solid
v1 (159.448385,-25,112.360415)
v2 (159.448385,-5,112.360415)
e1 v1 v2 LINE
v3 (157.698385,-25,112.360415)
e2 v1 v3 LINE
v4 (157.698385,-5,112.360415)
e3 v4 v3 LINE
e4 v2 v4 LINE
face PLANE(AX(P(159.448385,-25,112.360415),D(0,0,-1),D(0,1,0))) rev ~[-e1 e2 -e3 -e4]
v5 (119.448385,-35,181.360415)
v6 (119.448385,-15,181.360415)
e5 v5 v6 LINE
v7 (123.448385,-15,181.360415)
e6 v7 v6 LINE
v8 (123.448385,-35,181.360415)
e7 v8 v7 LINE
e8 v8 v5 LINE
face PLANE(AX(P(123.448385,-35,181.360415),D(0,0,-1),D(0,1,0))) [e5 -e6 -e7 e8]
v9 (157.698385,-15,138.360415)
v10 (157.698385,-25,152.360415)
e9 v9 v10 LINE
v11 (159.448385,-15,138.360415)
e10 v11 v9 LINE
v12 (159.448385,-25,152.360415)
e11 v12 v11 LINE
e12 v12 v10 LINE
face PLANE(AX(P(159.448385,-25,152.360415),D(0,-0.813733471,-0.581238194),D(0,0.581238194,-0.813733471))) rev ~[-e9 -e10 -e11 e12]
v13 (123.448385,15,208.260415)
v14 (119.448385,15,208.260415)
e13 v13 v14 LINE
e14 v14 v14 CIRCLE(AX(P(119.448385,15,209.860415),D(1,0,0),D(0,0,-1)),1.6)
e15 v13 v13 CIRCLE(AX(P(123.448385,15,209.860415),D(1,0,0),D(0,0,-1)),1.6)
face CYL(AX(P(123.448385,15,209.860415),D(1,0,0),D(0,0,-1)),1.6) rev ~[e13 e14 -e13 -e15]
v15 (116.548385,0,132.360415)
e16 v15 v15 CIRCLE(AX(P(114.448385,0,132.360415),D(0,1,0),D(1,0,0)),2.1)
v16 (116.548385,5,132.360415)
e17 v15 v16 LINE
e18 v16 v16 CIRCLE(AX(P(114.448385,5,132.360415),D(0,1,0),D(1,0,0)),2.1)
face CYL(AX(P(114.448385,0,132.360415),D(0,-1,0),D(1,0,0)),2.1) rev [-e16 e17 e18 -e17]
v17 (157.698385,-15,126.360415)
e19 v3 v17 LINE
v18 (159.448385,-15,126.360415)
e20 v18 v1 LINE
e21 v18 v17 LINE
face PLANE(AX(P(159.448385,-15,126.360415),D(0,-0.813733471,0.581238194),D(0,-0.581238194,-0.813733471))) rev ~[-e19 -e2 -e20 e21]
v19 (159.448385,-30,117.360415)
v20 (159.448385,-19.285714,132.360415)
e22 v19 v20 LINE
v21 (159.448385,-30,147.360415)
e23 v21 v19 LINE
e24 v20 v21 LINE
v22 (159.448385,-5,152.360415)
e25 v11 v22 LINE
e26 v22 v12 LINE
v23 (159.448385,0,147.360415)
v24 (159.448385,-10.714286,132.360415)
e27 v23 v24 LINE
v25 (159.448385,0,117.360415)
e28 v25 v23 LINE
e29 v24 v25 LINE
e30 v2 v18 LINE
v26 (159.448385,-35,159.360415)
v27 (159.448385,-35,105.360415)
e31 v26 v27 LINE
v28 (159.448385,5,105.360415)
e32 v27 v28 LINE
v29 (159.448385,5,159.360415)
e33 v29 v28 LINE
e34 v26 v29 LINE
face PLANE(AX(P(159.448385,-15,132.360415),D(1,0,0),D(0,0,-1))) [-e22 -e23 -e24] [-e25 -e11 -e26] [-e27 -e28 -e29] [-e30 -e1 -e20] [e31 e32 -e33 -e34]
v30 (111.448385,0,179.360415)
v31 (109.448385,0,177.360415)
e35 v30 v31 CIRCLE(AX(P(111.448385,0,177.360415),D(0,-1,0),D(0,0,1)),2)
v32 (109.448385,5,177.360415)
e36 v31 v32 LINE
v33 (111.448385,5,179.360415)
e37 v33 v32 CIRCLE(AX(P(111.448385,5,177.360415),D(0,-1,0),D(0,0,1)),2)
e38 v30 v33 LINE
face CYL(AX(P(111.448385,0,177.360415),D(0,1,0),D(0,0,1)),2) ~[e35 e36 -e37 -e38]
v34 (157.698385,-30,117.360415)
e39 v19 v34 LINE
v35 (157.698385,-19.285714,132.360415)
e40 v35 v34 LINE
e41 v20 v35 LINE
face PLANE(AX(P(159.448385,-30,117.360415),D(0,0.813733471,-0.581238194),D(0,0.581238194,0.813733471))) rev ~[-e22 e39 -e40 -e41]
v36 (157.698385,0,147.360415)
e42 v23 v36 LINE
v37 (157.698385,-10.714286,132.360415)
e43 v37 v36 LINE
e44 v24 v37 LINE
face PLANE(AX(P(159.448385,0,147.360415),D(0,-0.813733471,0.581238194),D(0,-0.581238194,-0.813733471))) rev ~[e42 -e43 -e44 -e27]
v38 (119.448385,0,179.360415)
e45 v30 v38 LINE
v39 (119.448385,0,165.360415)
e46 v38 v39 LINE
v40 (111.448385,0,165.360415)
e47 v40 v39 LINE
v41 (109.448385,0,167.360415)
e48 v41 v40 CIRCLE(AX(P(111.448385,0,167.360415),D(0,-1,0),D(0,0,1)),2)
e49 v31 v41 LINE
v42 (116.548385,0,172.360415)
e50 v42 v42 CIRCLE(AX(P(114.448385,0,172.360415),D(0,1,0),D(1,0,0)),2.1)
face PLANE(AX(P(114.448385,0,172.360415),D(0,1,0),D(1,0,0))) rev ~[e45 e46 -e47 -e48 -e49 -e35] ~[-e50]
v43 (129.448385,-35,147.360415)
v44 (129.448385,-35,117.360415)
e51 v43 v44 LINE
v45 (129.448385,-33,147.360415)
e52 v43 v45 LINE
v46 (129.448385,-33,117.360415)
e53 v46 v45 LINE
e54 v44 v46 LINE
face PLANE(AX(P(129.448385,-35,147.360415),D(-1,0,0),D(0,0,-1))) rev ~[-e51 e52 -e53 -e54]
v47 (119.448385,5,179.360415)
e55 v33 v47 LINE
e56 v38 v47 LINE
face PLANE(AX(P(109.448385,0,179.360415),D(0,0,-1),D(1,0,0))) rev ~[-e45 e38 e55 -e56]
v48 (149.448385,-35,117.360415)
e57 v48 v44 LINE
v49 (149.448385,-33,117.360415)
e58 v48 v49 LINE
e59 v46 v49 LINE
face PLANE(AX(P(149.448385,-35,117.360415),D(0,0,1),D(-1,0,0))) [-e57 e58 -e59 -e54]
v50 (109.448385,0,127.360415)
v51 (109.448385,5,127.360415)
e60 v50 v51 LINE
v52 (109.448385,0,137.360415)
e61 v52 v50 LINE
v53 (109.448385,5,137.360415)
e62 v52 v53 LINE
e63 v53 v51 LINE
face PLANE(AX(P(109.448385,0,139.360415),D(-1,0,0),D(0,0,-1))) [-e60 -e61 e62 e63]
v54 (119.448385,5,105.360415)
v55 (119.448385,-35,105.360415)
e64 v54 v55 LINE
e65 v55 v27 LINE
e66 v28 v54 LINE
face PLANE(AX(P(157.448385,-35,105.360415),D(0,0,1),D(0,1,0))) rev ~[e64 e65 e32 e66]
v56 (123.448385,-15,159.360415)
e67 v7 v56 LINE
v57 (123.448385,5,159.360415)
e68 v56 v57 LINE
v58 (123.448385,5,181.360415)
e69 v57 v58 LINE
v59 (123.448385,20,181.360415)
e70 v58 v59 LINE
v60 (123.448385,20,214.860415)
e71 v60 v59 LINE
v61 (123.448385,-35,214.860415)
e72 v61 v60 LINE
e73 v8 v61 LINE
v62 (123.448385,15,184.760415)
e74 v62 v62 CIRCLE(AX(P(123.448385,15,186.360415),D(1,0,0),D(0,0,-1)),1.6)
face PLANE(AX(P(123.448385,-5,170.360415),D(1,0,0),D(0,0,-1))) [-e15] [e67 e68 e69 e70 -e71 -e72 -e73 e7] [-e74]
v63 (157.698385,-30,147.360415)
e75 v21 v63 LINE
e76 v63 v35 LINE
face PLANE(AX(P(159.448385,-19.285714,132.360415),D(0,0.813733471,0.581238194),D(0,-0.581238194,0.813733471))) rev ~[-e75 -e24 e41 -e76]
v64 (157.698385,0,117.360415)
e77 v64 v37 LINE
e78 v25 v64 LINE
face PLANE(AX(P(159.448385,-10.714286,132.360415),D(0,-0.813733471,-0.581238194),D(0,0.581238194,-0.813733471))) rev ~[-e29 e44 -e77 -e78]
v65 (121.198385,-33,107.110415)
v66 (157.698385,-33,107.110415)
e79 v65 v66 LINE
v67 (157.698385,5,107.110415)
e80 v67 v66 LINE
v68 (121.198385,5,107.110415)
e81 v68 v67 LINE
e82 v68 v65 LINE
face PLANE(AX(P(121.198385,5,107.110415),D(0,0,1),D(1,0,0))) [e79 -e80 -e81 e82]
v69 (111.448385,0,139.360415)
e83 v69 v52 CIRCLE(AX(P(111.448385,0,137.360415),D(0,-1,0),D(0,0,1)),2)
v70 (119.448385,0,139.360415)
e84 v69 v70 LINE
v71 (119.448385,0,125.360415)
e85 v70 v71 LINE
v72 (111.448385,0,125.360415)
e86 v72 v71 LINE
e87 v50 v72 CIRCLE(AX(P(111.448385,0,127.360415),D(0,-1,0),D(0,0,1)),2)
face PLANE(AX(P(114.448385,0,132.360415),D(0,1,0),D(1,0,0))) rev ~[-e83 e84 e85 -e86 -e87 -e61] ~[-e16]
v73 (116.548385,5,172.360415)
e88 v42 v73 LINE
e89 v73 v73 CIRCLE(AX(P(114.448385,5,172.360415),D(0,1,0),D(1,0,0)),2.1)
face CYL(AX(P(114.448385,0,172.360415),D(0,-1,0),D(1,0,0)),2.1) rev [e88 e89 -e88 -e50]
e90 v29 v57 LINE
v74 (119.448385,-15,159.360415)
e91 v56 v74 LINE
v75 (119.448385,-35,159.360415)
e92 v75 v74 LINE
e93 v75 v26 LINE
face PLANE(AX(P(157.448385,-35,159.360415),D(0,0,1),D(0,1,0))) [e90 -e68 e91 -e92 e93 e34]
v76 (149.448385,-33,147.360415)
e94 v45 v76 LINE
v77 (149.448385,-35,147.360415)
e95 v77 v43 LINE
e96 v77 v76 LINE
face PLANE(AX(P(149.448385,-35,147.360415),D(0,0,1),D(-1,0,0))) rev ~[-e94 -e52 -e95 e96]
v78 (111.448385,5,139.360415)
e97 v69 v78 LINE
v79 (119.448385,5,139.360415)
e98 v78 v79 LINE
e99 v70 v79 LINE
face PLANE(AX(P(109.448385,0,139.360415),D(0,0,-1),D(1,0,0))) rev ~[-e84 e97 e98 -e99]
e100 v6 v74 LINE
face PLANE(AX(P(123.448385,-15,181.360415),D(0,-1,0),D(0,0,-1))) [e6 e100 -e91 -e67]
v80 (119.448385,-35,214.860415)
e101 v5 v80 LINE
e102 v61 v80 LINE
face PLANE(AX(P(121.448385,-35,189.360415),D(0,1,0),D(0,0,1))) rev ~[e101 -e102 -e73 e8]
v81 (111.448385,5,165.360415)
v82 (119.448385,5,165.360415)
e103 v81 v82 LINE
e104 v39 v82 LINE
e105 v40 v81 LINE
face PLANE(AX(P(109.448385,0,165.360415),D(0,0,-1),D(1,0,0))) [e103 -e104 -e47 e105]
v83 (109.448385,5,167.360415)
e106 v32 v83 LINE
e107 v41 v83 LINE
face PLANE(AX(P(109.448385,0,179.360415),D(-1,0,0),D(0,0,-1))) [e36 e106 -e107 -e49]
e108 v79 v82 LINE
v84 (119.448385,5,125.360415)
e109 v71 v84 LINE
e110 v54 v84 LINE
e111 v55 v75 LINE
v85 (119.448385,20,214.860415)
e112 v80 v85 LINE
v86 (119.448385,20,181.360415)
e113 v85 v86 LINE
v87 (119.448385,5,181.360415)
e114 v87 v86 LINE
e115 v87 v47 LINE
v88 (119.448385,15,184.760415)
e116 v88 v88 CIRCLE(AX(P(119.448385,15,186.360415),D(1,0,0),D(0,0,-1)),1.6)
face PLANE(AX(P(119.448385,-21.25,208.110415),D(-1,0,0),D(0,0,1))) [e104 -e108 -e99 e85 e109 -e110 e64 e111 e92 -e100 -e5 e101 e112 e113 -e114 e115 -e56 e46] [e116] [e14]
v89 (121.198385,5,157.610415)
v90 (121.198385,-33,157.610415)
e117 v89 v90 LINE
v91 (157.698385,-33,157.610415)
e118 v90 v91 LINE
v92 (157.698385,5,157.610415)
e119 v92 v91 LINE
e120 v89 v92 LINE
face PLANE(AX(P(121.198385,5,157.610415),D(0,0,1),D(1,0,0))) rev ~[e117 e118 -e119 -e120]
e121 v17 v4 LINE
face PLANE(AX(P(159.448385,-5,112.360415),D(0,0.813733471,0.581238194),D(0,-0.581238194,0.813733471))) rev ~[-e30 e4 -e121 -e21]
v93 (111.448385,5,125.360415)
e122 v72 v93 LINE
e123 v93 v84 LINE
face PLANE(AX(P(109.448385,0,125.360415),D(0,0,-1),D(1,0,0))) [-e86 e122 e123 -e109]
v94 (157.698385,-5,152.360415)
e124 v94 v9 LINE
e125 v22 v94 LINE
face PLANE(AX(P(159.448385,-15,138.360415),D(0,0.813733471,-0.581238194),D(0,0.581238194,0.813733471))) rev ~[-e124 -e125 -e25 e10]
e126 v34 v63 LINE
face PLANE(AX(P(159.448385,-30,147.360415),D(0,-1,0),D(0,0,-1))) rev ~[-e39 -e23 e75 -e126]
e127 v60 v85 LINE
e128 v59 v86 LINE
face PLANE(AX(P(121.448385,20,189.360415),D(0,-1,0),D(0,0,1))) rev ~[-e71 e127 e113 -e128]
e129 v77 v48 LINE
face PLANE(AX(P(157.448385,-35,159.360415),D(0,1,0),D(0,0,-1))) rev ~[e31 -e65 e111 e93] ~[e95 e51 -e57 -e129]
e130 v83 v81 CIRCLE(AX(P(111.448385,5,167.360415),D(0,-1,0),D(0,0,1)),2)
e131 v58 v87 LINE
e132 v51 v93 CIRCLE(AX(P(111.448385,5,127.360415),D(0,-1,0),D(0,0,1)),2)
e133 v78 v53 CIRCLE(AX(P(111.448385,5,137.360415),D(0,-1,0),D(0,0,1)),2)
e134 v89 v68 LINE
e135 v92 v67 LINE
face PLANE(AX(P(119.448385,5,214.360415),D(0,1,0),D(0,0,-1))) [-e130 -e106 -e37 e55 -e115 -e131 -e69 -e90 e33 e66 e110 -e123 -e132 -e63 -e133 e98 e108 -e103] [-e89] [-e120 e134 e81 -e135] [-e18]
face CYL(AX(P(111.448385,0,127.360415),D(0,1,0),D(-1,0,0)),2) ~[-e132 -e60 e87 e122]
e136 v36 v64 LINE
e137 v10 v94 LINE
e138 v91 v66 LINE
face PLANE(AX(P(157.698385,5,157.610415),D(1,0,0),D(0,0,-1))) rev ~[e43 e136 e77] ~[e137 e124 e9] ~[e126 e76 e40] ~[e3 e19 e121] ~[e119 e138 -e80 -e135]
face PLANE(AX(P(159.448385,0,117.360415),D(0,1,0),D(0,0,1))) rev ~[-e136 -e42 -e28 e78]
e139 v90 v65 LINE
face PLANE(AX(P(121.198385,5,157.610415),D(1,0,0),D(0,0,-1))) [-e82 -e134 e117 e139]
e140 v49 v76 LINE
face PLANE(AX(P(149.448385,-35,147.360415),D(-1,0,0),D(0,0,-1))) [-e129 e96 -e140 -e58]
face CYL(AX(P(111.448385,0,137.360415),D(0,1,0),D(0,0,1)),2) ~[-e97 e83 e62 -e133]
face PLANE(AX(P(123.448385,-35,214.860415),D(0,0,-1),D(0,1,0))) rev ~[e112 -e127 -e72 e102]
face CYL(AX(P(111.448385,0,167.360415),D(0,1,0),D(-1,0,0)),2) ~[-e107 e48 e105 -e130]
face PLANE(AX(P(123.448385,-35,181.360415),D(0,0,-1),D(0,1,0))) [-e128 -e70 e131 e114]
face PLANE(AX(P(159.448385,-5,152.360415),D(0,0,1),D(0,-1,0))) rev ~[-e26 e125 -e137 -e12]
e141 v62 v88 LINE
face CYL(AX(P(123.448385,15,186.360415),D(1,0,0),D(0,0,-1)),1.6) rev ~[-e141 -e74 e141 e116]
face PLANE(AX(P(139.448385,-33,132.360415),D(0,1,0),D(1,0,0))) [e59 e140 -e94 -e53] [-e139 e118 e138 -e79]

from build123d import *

# Parameters (mm, degrees)
SKETCH2_W             = 10
SKETCH2_H             = 14
SKETCH2_R             = 2.1
BOSS_EXTRUDE1_DEPTH   = 5
BOSS_EXTRUDE1_2_DEPTH = 5
SKETCH3_W             = 44.5
SKETCH3_H             = 39
SKETCH3_W_2           = 14
SKETCH3_H_2           = 5
BOSS_EXTRUDE2_DEPTH   = 2
BOSS_EXTRUDE4_DEPTH   = 32
SKETCH5_W             = 2
SKETCH5_H             = 85
BOSS_EXTRUDE5_DEPTH   = 37
SKETCH6_W             = 14
SKETCH6_H             = 30
CUT_EXTRUDE1_DEPTH    = 200
SKETCH7_W             = 20
SKETCH7_H             = 20
CUT_EXTRUDE2_DEPTH    = 16
FILLET1_R             = 2
SKETCH8_W             = 95.919235743
SKETCH8_H             = 46.663411984
CUT_EXTRUDE4_DEPTH    = 34
SKETCH9_W             = 7
SKETCH9_H             = 5
BOSS_EXTRUDE6_DEPTH   = 2
BOSS_EXTRUDE9_DEPTH   = 36
BOSS_EXTRUDE9_2_DEPTH = 36
SKETCH12_W            = 50
SKETCH12_H            = 2
CUT_EXTRUDE5_DEPTH    = 36
SKETCH13_W            = 50
SKETCH13_H            = 2
BOSS_EXTRUDE11_DEPTH  = 36
BOSS_EXTRUDE12_DEPTH  = 2
SKETCH15_W            = 54
SKETCH15_H            = 40
BOSS_EXTRUDE13_DEPTH  = 2
CUT_EXTRUDE6_DEPTH    = 2
SKETCH17_W            = 55
SKETCH17_H            = 37
BOSS_EXTRUDE14_DEPTH  = 4
SKETCH18_R            = 1.6
CUT_EXTRUDE7_DEPTH    = 11
SKETCH19_R            = 1.6
BOSS_EXTRUDE15_DEPTH  = 4
SKETCH20_R            = 3.6
CUT_EXTRUDE8_DEPTH    = 2.2
SKETCH21_W            = 56.91688516
SKETCH21_H            = 39.408005253
CUT_EXTRUDE9_DEPTH    = 4
SKETCH22_W            = 37.5
SKETCH22_H            = 27.5
SKETCH22_R            = 1.6
BOSS_EXTRUDE16_DEPTH  = 2
SKETCH23_W            = 30
SKETCH23_H            = 12.5
BOSS_EXTRUDE17_DEPTH  = 2
SKETCH25_W            = 20
SKETCH25_H            = 30
CUT_EXTRUDE10_DEPTH   = 15
SKETCH26_R            = 1.6
SKETCH26_W            = 37.5
SKETCH26_H            = 27.5
BOSS_EXTRUDE18_DEPTH  = 2
SKETCH27_W            = 37.5
SKETCH27_H            = 27.5
BOSS_EXTRUDE19_DEPTH  = 2
SKETCH28_W            = 36.5
SKETCH28_H            = 50.5
CUT_EXTRUDE11_DEPTH   = 38
SKETCH29_W            = 33.5
SKETCH29_H            = 55
SKETCH29_R            = 1.6
BOSS_EXTRUDE20_DEPTH  = 4
SKETCH30_W            = 12
SKETCH30_H            = 55
CUT_EXTRUDE12_DEPTH   = 4
SKETCH31_R            = 1.6
CUT_EXTRUDE13_DEPTH   = 4
SKETCH32_W            = 22
SKETCH32_H            = 20
BOSS_EXTRUDE21_DEPTH  = 4


with BuildPart() as part:
    # Sketch2 → Boss-Extrude1 (new body)
    with BuildSketch(Plane(origin=(0, 0, 0), x_dir=(1, 0, 0), z_dir=(0, 1, 0))):
        with Locations((114.448385229, -132.360414745)):
            Rectangle(SKETCH2_W, SKETCH2_H)
        with Locations((114.448385229, -132.360414745)):
            Circle(SKETCH2_R, mode=Mode.SUBTRACT)
    extrude(amount=BOSS_EXTRUDE1_DEPTH)



with BuildPart() as body_2:
    # Sketch2 → Boss-Extrude1 2 (new body)
    with BuildSketch(Plane(origin=(0, 0, 0), x_dir=(1, 0, 0), z_dir=(0, 1, 0))):
        with Locations((114.448385229, -172.360414745)):
            Rectangle(SKETCH2_W, SKETCH2_H)
        with Locations((114.448385229, -172.360414745)):
            Circle(SKETCH2_R, mode=Mode.SUBTRACT)
    extrude(amount=BOSS_EXTRUDE1_2_DEPTH)


with BuildPart() as part_1:
    add(part.part)

    add(body_2.part)  # Boss-Extrude2 merges body 2
    # Sketch3 → Boss-Extrude2 (add)
    with BuildSketch(Plane(origin=(119.448385229, 0, 0), x_dir=(0, 0, -1), z_dir=(1, 0, 0))):
        Polygon((-152.360414745, -34), (-152.360414745, 5), (-165.360414745, 5), (-165.360414745, 0), (-179.360414745, 0), (-179.360414745, 5), (-196.860414745, 5), (-196.860414745, -34), align=None)
        with Locations((-130.110414745, -14.5)):
            Rectangle(SKETCH3_W, SKETCH3_H)
        with Locations((-172.360414745, 2.5)):
            Rectangle(SKETCH3_W_2, SKETCH3_H_2)
    extrude(amount=BOSS_EXTRUDE2_DEPTH)

    # Sketch4 → Boss-Extrude4 (add)
    with BuildSketch(Plane(origin=(121.448385229, 0, 0), x_dir=(0, 0, -1), z_dir=(1, 0, 0))):
        Polygon((-194.860414745, 5), (-196.860414745, 5), (-196.860414745, -34), (-107.860414745, -34), (-107.860414745, 5), (-109.860414745, 5), (-109.860414745, -32), (-194.860414745, -32), align=None)
    extrude(amount=BOSS_EXTRUDE4_DEPTH)

    # Sketch5 → Boss-Extrude5 (add)
    with BuildSketch(Plane(origin=(0, -32, 0), x_dir=(1, 0, 0), z_dir=(0, 1, 0))):
        with Locations((152.448385229, -152.360414745)):
            Rectangle(SKETCH5_W, SKETCH5_H)
    extrude(amount=BOSS_EXTRUDE5_DEPTH)

    # Sketch6 → Cut-Extrude1 (cut)
    with BuildSketch(Plane.XY.offset(196.860414745)):
        with Locations((136.448385229, -10)):
            Rectangle(SKETCH6_W, SKETCH6_H)
    extrude(amount=-CUT_EXTRUDE1_DEPTH, mode=Mode.SUBTRACT)

    # Sketch7 → Cut-Extrude2 (cut)
    with BuildSketch(Plane(origin=(153.448385229, 0, 0), x_dir=(0, 0, -1), z_dir=(1, 0, 0))):
        with Locations((-179.360414745, -14.5)):
            Rectangle(SKETCH7_W, SKETCH7_H)
        with Locations((-152.360414745, -14.5)):
            Rectangle(SKETCH7_W, SKETCH7_H)
        with Locations((-125.360414745, -14.5)):
            Rectangle(SKETCH7_W, SKETCH7_H)
    extrude(amount=-CUT_EXTRUDE2_DEPTH, mode=Mode.SUBTRACT)

    # Fillet1
    fillet1_edges = [part_1.edges().sort_by_distance(p)[0] for p in [
        (109.448385229, 2.5, 139.360414745),
        (109.448385229, 2.5, 125.360414745),
        (109.448385229, 2.5, 179.360414745),
        (109.448385229, 2.5, 165.360414745),
    ]]
    fillet(fillet1_edges, radius=FILLET1_R)

    # Sketch8 → Cut-Extrude4 (cut)
    with BuildSketch(Plane(origin=(153.448385229, 0, 0), x_dir=(0, 0, -1), z_dir=(1, 0, 0))):
        with Locations((-152.759247327, -15.092668453)):
            Rectangle(SKETCH8_W, SKETCH8_H)
    extrude(amount=-CUT_EXTRUDE4_DEPTH, mode=Mode.SUBTRACT)

    # Sketch9 → Boss-Extrude6 (add)
    with BuildSketch(Plane(origin=(119.448385229, 0, 0), x_dir=(0, 0, -1), z_dir=(1, 0, 0))):
        Polygon((-132.360414745, 0), (-132.360414745, -35), (-107.360414745, -35), (-107.360414745, 5), (-125.360414745, 5), (-125.360414745, 0), align=None)
        Polygon((-157.360414745, 5), (-157.360414745, -35), (-132.360414745, -35), (-132.360414745, 0), (-139.360414745, 0), (-139.360414745, 5), align=None)
        with Locations((-135.860414745, 2.5)):
            Rectangle(SKETCH9_W, SKETCH9_H)
        with Locations((-128.860414745, 2.5)):
            Rectangle(SKETCH9_W, SKETCH9_H)
    extrude(amount=BOSS_EXTRUDE6_DEPTH)

    # Sketch12 → Cut-Extrude5 (cut)
    with BuildSketch(Plane(origin=(121.448385229, 0, 0), x_dir=(0, 0, -1), z_dir=(1, 0, 0))):
        with Locations((-132.360414745, -34)):
            Rectangle(SKETCH12_W, SKETCH12_H)
    extrude(amount=-CUT_EXTRUDE5_DEPTH, mode=Mode.SUBTRACT)



with BuildPart() as body_2_2:
    # Sketch11 → Boss-Extrude9 (new body)
    with BuildSketch(Plane(origin=(121.448385229, 0, 0), x_dir=(0, 0, -1), z_dir=(1, 0, 0))):
        Polygon((-157.360414745, -33), (-157.360414745, 5), (-159.360414745, 5), (-159.360414745, -35), (-157.360414745, -35), align=None)
    extrude(amount=BOSS_EXTRUDE9_DEPTH)



with BuildPart() as body_3:
    # Sketch11 → Boss-Extrude9 2 (new body)
    with BuildSketch(Plane(origin=(121.448385229, 0, 0), x_dir=(0, 0, -1), z_dir=(1, 0, 0))):
        Polygon((-107.360414745, 5), (-107.360414745, -33), (-107.360414745, -35), (-105.360414745, -35), (-105.360414745, 5), align=None)
    extrude(amount=BOSS_EXTRUDE9_2_DEPTH)


with BuildPart() as body_2_2_1:
    add(body_2_2.part)

    add(body_3.part)  # Boss-Extrude11 merges body 3
    # Sketch13 → Boss-Extrude11 (add)
    with BuildSketch(Plane(origin=(121.448385229, 0, 0), x_dir=(0, 0, -1), z_dir=(1, 0, 0))):
        with Locations((-132.360414745, -34)):
            Rectangle(SKETCH13_W, SKETCH13_H)
    extrude(amount=BOSS_EXTRUDE11_DEPTH)


with BuildPart() as part_2:
    add(part_1.part)

    add(body_2_2_1.part)  # Boss-Extrude12 merges body 2 2
    # Sketch14 → Boss-Extrude12 (add)
    with BuildSketch(Plane.ZY.offset(-121.448385229)):
        Polygon((107.360414745, 5), (105.360414745, 5), (105.360414745, -35), (159.360414745, -35), (159.360414745, 5), (157.360414745, 5), (157.360414745, -33), (107.360414745, -33), align=None)
    extrude(amount=BOSS_EXTRUDE12_DEPTH)

    # Sketch15 → Boss-Extrude13 (add)
    with BuildSketch(Plane(origin=(157.448385229, 0, 0), x_dir=(0, 0, -1), z_dir=(1, 0, 0))):
        with Locations((-132.360414745, -15)):
            Rectangle(SKETCH15_W, SKETCH15_H)
    extrude(amount=BOSS_EXTRUDE13_DEPTH)

    # Sketch16 → Cut-Extrude6 (cut)
    with BuildSketch(Plane(origin=(159.448385229, 0, 0), x_dir=(0, 0, -1), z_dir=(1, 0, 0))):
        Polygon((-138.360414745, -15), (-152.360414745, -5), (-152.360414745, -25), align=None)
        Polygon((-147.360414745, 0), (-132.360414745, -10.714285714), (-117.360414745, 0), align=None)
        Polygon((-112.360414745, -5), (-126.360414745, -15), (-112.360414745, -25), align=None)
        Polygon((-117.360414745, -30), (-132.360414745, -19.285714286), (-147.360414745, -30), align=None)
    extrude(amount=-CUT_EXTRUDE6_DEPTH, mode=Mode.SUBTRACT)

    # Sketch17 → Boss-Extrude14 (add)
    with BuildSketch(Plane(origin=(119.448385229, 0, 0), x_dir=(0, 0, -1), z_dir=(1, 0, 0))):
        with Locations((-186.860414745, -13.5)):
            Rectangle(SKETCH17_W, SKETCH17_H)
    extrude(amount=BOSS_EXTRUDE14_DEPTH)

    # Sketch18 → Cut-Extrude7 (cut)
    with BuildSketch(Plane(origin=(123.448385229, 0, 0), x_dir=(0, 0, -1), z_dir=(1, 0, 0))):
        with Locations((-209.360414745, -1.75)):
            Circle(SKETCH18_R)
        with Locations((-209.360414745, -25.25)):
            Circle(SKETCH18_R)
        with Locations((-164.360414745, -25.25)):
            Circle(SKETCH18_R)
        with Locations((-164.360414745, -1.75)):
            Circle(SKETCH18_R)
    extrude(amount=-CUT_EXTRUDE7_DEPTH, mode=Mode.SUBTRACT)

    # Sketch19 → Boss-Extrude15 (add)
    with BuildSketch(Plane.ZY.offset(-119.448385229)):
        with Locations((164.360414745, -1.75)):
            Circle(SKETCH19_R)
    extrude(amount=-BOSS_EXTRUDE15_DEPTH)

    # Sketch20 → Cut-Extrude8 (cut)
    with BuildSketch(Plane.ZY.offset(-119.448385229)):
        with Locations((209.360414745, -1.75)):
            Circle(SKETCH20_R)
        with Locations((209.360414745, -25.25)):
            Circle(SKETCH20_R)
        with Locations((164.360414745, -25.25)):
            Circle(SKETCH20_R)
    extrude(amount=-CUT_EXTRUDE8_DEPTH, mode=Mode.SUBTRACT)

    # Sketch21 → Cut-Extrude9 (cut)
    with BuildSketch(Plane(origin=(123.448385229, 0, 0), x_dir=(0, 0, -1), z_dir=(1, 0, 0))):
        with Locations((-187.818857325, -12.295997374)):
            Rectangle(SKETCH21_W, SKETCH21_H)
    extrude(amount=-CUT_EXTRUDE9_DEPTH, mode=Mode.SUBTRACT)



with BuildPart() as body_2_3:
    # Sketch22 → Boss-Extrude16 (new body)
    with BuildSketch(Plane(origin=(119.448385229, 0, 0), x_dir=(0, 0, -1), z_dir=(1, 0, 0))):
        with Locations((-208.110414745, 6.25)):
            Rectangle(SKETCH22_W, SKETCH22_H)
        with Locations((-219.860414745, 15)):
            Circle(SKETCH22_R, mode=Mode.SUBTRACT)
        with Locations((-196.360414745, 15)):
            Circle(SKETCH22_R, mode=Mode.SUBTRACT)
    extrude(amount=BOSS_EXTRUDE16_DEPTH)


with BuildPart() as part_3:
    add(part_2.part)

    add(body_2_3.part)  # Boss-Extrude17 merges body 2 3
    # Sketch23 → Boss-Extrude17 (add)
    with BuildSketch(Plane(origin=(119.448385229, 0, 0), x_dir=(0, 0, -1), z_dir=(1, 0, 0))):
        with Locations((-174.360414745, -1.25)):
            Rectangle(SKETCH23_W, SKETCH23_H)
    extrude(amount=BOSS_EXTRUDE17_DEPTH)

    # Sketch25 → Cut-Extrude10 (cut)
    with BuildSketch(Plane(origin=(0, -35, 0), x_dir=(-1, 0, 0), z_dir=(0, -1, 0))):
        with Locations((-139.448385229, -132.360414745)):
            Rectangle(SKETCH25_W, SKETCH25_H)
    extrude(amount=-CUT_EXTRUDE10_DEPTH, mode=Mode.SUBTRACT)

    # Sketch26 → Boss-Extrude18 (add)
    with BuildSketch(Plane(origin=(121.448385229, 0, 0), x_dir=(0, 0, -1), z_dir=(1, 0, 0))):
        Polygon((-226.860414745, -7.5), (-159.360414745, -7.5), (-159.360414745, 5), (-189.360414745, 5), (-189.360414745, 20), (-226.860414745, 20), align=None)
        with Locations((-219.860414745, 15)):
            Circle(SKETCH26_R, mode=Mode.SUBTRACT)
        with Locations((-196.360414745, 15)):
            Circle(SKETCH26_R, mode=Mode.SUBTRACT)
        with Locations((-208.110414745, -21.25)):
            Rectangle(SKETCH26_W, SKETCH26_H)
    extrude(amount=BOSS_EXTRUDE18_DEPTH)

    # Sketch27 → Boss-Extrude19 (add)
    with BuildSketch(Plane.ZY.offset(-121.448385229)):
        with Locations((208.110414745, -21.25)):
            Rectangle(SKETCH27_W, SKETCH27_H)
    extrude(amount=BOSS_EXTRUDE19_DEPTH)

    # Sketch28 → Cut-Extrude11 (cut)
    with BuildSketch(Plane(origin=(0, 5, 0), x_dir=(1, 0, 0), z_dir=(0, 1, 0))):
        with Locations((139.448385229, -132.360414745)):
            Rectangle(SKETCH28_W, SKETCH28_H)
    extrude(amount=-CUT_EXTRUDE11_DEPTH, mode=Mode.SUBTRACT)

    # Sketch29 → Boss-Extrude20 (add)
    with BuildSketch(Plane(origin=(123.448385229, 0, 0), x_dir=(0, 0, -1), z_dir=(1, 0, 0))):
        with Locations((-198.110414745, -7.5)):
            Rectangle(SKETCH29_W, SKETCH29_H)
        with Locations((-186.360414745, 15)):
            Circle(SKETCH29_R, mode=Mode.SUBTRACT)
        with Locations((-209.860414745, 15)):
            Circle(SKETCH29_R, mode=Mode.SUBTRACT)
    extrude(amount=-BOSS_EXTRUDE20_DEPTH)

    # Sketch30 → Cut-Extrude12 (cut)
    with BuildSketch(Plane(origin=(123.448385229, 0, 0), x_dir=(0, 0, -1), z_dir=(1, 0, 0))):
        with Locations((-220.860414745, -7.5)):
            Rectangle(SKETCH30_W, SKETCH30_H)
    extrude(amount=-CUT_EXTRUDE12_DEPTH, mode=Mode.SUBTRACT)

    # Sketch31 → Cut-Extrude13 (cut)
    with BuildSketch(Plane(origin=(123.448385229, 0, 0), x_dir=(0, 0, -1), z_dir=(1, 0, 0))):
        with Locations((-209.860414745, 15)):
            Circle(SKETCH31_R)
    extrude(amount=-CUT_EXTRUDE13_DEPTH, mode=Mode.SUBTRACT)

    # Sketch32 → Boss-Extrude21 (add)
    with BuildSketch(Plane(origin=(123.448385229, 0, 0), x_dir=(0, 0, -1), z_dir=(1, 0, 0))):
        with Locations((-170.360414745, -5)):
            Rectangle(SKETCH32_W, SKETCH32_H)
    extrude(amount=-BOSS_EXTRUDE21_DEPTH)


solid = part_3.part
